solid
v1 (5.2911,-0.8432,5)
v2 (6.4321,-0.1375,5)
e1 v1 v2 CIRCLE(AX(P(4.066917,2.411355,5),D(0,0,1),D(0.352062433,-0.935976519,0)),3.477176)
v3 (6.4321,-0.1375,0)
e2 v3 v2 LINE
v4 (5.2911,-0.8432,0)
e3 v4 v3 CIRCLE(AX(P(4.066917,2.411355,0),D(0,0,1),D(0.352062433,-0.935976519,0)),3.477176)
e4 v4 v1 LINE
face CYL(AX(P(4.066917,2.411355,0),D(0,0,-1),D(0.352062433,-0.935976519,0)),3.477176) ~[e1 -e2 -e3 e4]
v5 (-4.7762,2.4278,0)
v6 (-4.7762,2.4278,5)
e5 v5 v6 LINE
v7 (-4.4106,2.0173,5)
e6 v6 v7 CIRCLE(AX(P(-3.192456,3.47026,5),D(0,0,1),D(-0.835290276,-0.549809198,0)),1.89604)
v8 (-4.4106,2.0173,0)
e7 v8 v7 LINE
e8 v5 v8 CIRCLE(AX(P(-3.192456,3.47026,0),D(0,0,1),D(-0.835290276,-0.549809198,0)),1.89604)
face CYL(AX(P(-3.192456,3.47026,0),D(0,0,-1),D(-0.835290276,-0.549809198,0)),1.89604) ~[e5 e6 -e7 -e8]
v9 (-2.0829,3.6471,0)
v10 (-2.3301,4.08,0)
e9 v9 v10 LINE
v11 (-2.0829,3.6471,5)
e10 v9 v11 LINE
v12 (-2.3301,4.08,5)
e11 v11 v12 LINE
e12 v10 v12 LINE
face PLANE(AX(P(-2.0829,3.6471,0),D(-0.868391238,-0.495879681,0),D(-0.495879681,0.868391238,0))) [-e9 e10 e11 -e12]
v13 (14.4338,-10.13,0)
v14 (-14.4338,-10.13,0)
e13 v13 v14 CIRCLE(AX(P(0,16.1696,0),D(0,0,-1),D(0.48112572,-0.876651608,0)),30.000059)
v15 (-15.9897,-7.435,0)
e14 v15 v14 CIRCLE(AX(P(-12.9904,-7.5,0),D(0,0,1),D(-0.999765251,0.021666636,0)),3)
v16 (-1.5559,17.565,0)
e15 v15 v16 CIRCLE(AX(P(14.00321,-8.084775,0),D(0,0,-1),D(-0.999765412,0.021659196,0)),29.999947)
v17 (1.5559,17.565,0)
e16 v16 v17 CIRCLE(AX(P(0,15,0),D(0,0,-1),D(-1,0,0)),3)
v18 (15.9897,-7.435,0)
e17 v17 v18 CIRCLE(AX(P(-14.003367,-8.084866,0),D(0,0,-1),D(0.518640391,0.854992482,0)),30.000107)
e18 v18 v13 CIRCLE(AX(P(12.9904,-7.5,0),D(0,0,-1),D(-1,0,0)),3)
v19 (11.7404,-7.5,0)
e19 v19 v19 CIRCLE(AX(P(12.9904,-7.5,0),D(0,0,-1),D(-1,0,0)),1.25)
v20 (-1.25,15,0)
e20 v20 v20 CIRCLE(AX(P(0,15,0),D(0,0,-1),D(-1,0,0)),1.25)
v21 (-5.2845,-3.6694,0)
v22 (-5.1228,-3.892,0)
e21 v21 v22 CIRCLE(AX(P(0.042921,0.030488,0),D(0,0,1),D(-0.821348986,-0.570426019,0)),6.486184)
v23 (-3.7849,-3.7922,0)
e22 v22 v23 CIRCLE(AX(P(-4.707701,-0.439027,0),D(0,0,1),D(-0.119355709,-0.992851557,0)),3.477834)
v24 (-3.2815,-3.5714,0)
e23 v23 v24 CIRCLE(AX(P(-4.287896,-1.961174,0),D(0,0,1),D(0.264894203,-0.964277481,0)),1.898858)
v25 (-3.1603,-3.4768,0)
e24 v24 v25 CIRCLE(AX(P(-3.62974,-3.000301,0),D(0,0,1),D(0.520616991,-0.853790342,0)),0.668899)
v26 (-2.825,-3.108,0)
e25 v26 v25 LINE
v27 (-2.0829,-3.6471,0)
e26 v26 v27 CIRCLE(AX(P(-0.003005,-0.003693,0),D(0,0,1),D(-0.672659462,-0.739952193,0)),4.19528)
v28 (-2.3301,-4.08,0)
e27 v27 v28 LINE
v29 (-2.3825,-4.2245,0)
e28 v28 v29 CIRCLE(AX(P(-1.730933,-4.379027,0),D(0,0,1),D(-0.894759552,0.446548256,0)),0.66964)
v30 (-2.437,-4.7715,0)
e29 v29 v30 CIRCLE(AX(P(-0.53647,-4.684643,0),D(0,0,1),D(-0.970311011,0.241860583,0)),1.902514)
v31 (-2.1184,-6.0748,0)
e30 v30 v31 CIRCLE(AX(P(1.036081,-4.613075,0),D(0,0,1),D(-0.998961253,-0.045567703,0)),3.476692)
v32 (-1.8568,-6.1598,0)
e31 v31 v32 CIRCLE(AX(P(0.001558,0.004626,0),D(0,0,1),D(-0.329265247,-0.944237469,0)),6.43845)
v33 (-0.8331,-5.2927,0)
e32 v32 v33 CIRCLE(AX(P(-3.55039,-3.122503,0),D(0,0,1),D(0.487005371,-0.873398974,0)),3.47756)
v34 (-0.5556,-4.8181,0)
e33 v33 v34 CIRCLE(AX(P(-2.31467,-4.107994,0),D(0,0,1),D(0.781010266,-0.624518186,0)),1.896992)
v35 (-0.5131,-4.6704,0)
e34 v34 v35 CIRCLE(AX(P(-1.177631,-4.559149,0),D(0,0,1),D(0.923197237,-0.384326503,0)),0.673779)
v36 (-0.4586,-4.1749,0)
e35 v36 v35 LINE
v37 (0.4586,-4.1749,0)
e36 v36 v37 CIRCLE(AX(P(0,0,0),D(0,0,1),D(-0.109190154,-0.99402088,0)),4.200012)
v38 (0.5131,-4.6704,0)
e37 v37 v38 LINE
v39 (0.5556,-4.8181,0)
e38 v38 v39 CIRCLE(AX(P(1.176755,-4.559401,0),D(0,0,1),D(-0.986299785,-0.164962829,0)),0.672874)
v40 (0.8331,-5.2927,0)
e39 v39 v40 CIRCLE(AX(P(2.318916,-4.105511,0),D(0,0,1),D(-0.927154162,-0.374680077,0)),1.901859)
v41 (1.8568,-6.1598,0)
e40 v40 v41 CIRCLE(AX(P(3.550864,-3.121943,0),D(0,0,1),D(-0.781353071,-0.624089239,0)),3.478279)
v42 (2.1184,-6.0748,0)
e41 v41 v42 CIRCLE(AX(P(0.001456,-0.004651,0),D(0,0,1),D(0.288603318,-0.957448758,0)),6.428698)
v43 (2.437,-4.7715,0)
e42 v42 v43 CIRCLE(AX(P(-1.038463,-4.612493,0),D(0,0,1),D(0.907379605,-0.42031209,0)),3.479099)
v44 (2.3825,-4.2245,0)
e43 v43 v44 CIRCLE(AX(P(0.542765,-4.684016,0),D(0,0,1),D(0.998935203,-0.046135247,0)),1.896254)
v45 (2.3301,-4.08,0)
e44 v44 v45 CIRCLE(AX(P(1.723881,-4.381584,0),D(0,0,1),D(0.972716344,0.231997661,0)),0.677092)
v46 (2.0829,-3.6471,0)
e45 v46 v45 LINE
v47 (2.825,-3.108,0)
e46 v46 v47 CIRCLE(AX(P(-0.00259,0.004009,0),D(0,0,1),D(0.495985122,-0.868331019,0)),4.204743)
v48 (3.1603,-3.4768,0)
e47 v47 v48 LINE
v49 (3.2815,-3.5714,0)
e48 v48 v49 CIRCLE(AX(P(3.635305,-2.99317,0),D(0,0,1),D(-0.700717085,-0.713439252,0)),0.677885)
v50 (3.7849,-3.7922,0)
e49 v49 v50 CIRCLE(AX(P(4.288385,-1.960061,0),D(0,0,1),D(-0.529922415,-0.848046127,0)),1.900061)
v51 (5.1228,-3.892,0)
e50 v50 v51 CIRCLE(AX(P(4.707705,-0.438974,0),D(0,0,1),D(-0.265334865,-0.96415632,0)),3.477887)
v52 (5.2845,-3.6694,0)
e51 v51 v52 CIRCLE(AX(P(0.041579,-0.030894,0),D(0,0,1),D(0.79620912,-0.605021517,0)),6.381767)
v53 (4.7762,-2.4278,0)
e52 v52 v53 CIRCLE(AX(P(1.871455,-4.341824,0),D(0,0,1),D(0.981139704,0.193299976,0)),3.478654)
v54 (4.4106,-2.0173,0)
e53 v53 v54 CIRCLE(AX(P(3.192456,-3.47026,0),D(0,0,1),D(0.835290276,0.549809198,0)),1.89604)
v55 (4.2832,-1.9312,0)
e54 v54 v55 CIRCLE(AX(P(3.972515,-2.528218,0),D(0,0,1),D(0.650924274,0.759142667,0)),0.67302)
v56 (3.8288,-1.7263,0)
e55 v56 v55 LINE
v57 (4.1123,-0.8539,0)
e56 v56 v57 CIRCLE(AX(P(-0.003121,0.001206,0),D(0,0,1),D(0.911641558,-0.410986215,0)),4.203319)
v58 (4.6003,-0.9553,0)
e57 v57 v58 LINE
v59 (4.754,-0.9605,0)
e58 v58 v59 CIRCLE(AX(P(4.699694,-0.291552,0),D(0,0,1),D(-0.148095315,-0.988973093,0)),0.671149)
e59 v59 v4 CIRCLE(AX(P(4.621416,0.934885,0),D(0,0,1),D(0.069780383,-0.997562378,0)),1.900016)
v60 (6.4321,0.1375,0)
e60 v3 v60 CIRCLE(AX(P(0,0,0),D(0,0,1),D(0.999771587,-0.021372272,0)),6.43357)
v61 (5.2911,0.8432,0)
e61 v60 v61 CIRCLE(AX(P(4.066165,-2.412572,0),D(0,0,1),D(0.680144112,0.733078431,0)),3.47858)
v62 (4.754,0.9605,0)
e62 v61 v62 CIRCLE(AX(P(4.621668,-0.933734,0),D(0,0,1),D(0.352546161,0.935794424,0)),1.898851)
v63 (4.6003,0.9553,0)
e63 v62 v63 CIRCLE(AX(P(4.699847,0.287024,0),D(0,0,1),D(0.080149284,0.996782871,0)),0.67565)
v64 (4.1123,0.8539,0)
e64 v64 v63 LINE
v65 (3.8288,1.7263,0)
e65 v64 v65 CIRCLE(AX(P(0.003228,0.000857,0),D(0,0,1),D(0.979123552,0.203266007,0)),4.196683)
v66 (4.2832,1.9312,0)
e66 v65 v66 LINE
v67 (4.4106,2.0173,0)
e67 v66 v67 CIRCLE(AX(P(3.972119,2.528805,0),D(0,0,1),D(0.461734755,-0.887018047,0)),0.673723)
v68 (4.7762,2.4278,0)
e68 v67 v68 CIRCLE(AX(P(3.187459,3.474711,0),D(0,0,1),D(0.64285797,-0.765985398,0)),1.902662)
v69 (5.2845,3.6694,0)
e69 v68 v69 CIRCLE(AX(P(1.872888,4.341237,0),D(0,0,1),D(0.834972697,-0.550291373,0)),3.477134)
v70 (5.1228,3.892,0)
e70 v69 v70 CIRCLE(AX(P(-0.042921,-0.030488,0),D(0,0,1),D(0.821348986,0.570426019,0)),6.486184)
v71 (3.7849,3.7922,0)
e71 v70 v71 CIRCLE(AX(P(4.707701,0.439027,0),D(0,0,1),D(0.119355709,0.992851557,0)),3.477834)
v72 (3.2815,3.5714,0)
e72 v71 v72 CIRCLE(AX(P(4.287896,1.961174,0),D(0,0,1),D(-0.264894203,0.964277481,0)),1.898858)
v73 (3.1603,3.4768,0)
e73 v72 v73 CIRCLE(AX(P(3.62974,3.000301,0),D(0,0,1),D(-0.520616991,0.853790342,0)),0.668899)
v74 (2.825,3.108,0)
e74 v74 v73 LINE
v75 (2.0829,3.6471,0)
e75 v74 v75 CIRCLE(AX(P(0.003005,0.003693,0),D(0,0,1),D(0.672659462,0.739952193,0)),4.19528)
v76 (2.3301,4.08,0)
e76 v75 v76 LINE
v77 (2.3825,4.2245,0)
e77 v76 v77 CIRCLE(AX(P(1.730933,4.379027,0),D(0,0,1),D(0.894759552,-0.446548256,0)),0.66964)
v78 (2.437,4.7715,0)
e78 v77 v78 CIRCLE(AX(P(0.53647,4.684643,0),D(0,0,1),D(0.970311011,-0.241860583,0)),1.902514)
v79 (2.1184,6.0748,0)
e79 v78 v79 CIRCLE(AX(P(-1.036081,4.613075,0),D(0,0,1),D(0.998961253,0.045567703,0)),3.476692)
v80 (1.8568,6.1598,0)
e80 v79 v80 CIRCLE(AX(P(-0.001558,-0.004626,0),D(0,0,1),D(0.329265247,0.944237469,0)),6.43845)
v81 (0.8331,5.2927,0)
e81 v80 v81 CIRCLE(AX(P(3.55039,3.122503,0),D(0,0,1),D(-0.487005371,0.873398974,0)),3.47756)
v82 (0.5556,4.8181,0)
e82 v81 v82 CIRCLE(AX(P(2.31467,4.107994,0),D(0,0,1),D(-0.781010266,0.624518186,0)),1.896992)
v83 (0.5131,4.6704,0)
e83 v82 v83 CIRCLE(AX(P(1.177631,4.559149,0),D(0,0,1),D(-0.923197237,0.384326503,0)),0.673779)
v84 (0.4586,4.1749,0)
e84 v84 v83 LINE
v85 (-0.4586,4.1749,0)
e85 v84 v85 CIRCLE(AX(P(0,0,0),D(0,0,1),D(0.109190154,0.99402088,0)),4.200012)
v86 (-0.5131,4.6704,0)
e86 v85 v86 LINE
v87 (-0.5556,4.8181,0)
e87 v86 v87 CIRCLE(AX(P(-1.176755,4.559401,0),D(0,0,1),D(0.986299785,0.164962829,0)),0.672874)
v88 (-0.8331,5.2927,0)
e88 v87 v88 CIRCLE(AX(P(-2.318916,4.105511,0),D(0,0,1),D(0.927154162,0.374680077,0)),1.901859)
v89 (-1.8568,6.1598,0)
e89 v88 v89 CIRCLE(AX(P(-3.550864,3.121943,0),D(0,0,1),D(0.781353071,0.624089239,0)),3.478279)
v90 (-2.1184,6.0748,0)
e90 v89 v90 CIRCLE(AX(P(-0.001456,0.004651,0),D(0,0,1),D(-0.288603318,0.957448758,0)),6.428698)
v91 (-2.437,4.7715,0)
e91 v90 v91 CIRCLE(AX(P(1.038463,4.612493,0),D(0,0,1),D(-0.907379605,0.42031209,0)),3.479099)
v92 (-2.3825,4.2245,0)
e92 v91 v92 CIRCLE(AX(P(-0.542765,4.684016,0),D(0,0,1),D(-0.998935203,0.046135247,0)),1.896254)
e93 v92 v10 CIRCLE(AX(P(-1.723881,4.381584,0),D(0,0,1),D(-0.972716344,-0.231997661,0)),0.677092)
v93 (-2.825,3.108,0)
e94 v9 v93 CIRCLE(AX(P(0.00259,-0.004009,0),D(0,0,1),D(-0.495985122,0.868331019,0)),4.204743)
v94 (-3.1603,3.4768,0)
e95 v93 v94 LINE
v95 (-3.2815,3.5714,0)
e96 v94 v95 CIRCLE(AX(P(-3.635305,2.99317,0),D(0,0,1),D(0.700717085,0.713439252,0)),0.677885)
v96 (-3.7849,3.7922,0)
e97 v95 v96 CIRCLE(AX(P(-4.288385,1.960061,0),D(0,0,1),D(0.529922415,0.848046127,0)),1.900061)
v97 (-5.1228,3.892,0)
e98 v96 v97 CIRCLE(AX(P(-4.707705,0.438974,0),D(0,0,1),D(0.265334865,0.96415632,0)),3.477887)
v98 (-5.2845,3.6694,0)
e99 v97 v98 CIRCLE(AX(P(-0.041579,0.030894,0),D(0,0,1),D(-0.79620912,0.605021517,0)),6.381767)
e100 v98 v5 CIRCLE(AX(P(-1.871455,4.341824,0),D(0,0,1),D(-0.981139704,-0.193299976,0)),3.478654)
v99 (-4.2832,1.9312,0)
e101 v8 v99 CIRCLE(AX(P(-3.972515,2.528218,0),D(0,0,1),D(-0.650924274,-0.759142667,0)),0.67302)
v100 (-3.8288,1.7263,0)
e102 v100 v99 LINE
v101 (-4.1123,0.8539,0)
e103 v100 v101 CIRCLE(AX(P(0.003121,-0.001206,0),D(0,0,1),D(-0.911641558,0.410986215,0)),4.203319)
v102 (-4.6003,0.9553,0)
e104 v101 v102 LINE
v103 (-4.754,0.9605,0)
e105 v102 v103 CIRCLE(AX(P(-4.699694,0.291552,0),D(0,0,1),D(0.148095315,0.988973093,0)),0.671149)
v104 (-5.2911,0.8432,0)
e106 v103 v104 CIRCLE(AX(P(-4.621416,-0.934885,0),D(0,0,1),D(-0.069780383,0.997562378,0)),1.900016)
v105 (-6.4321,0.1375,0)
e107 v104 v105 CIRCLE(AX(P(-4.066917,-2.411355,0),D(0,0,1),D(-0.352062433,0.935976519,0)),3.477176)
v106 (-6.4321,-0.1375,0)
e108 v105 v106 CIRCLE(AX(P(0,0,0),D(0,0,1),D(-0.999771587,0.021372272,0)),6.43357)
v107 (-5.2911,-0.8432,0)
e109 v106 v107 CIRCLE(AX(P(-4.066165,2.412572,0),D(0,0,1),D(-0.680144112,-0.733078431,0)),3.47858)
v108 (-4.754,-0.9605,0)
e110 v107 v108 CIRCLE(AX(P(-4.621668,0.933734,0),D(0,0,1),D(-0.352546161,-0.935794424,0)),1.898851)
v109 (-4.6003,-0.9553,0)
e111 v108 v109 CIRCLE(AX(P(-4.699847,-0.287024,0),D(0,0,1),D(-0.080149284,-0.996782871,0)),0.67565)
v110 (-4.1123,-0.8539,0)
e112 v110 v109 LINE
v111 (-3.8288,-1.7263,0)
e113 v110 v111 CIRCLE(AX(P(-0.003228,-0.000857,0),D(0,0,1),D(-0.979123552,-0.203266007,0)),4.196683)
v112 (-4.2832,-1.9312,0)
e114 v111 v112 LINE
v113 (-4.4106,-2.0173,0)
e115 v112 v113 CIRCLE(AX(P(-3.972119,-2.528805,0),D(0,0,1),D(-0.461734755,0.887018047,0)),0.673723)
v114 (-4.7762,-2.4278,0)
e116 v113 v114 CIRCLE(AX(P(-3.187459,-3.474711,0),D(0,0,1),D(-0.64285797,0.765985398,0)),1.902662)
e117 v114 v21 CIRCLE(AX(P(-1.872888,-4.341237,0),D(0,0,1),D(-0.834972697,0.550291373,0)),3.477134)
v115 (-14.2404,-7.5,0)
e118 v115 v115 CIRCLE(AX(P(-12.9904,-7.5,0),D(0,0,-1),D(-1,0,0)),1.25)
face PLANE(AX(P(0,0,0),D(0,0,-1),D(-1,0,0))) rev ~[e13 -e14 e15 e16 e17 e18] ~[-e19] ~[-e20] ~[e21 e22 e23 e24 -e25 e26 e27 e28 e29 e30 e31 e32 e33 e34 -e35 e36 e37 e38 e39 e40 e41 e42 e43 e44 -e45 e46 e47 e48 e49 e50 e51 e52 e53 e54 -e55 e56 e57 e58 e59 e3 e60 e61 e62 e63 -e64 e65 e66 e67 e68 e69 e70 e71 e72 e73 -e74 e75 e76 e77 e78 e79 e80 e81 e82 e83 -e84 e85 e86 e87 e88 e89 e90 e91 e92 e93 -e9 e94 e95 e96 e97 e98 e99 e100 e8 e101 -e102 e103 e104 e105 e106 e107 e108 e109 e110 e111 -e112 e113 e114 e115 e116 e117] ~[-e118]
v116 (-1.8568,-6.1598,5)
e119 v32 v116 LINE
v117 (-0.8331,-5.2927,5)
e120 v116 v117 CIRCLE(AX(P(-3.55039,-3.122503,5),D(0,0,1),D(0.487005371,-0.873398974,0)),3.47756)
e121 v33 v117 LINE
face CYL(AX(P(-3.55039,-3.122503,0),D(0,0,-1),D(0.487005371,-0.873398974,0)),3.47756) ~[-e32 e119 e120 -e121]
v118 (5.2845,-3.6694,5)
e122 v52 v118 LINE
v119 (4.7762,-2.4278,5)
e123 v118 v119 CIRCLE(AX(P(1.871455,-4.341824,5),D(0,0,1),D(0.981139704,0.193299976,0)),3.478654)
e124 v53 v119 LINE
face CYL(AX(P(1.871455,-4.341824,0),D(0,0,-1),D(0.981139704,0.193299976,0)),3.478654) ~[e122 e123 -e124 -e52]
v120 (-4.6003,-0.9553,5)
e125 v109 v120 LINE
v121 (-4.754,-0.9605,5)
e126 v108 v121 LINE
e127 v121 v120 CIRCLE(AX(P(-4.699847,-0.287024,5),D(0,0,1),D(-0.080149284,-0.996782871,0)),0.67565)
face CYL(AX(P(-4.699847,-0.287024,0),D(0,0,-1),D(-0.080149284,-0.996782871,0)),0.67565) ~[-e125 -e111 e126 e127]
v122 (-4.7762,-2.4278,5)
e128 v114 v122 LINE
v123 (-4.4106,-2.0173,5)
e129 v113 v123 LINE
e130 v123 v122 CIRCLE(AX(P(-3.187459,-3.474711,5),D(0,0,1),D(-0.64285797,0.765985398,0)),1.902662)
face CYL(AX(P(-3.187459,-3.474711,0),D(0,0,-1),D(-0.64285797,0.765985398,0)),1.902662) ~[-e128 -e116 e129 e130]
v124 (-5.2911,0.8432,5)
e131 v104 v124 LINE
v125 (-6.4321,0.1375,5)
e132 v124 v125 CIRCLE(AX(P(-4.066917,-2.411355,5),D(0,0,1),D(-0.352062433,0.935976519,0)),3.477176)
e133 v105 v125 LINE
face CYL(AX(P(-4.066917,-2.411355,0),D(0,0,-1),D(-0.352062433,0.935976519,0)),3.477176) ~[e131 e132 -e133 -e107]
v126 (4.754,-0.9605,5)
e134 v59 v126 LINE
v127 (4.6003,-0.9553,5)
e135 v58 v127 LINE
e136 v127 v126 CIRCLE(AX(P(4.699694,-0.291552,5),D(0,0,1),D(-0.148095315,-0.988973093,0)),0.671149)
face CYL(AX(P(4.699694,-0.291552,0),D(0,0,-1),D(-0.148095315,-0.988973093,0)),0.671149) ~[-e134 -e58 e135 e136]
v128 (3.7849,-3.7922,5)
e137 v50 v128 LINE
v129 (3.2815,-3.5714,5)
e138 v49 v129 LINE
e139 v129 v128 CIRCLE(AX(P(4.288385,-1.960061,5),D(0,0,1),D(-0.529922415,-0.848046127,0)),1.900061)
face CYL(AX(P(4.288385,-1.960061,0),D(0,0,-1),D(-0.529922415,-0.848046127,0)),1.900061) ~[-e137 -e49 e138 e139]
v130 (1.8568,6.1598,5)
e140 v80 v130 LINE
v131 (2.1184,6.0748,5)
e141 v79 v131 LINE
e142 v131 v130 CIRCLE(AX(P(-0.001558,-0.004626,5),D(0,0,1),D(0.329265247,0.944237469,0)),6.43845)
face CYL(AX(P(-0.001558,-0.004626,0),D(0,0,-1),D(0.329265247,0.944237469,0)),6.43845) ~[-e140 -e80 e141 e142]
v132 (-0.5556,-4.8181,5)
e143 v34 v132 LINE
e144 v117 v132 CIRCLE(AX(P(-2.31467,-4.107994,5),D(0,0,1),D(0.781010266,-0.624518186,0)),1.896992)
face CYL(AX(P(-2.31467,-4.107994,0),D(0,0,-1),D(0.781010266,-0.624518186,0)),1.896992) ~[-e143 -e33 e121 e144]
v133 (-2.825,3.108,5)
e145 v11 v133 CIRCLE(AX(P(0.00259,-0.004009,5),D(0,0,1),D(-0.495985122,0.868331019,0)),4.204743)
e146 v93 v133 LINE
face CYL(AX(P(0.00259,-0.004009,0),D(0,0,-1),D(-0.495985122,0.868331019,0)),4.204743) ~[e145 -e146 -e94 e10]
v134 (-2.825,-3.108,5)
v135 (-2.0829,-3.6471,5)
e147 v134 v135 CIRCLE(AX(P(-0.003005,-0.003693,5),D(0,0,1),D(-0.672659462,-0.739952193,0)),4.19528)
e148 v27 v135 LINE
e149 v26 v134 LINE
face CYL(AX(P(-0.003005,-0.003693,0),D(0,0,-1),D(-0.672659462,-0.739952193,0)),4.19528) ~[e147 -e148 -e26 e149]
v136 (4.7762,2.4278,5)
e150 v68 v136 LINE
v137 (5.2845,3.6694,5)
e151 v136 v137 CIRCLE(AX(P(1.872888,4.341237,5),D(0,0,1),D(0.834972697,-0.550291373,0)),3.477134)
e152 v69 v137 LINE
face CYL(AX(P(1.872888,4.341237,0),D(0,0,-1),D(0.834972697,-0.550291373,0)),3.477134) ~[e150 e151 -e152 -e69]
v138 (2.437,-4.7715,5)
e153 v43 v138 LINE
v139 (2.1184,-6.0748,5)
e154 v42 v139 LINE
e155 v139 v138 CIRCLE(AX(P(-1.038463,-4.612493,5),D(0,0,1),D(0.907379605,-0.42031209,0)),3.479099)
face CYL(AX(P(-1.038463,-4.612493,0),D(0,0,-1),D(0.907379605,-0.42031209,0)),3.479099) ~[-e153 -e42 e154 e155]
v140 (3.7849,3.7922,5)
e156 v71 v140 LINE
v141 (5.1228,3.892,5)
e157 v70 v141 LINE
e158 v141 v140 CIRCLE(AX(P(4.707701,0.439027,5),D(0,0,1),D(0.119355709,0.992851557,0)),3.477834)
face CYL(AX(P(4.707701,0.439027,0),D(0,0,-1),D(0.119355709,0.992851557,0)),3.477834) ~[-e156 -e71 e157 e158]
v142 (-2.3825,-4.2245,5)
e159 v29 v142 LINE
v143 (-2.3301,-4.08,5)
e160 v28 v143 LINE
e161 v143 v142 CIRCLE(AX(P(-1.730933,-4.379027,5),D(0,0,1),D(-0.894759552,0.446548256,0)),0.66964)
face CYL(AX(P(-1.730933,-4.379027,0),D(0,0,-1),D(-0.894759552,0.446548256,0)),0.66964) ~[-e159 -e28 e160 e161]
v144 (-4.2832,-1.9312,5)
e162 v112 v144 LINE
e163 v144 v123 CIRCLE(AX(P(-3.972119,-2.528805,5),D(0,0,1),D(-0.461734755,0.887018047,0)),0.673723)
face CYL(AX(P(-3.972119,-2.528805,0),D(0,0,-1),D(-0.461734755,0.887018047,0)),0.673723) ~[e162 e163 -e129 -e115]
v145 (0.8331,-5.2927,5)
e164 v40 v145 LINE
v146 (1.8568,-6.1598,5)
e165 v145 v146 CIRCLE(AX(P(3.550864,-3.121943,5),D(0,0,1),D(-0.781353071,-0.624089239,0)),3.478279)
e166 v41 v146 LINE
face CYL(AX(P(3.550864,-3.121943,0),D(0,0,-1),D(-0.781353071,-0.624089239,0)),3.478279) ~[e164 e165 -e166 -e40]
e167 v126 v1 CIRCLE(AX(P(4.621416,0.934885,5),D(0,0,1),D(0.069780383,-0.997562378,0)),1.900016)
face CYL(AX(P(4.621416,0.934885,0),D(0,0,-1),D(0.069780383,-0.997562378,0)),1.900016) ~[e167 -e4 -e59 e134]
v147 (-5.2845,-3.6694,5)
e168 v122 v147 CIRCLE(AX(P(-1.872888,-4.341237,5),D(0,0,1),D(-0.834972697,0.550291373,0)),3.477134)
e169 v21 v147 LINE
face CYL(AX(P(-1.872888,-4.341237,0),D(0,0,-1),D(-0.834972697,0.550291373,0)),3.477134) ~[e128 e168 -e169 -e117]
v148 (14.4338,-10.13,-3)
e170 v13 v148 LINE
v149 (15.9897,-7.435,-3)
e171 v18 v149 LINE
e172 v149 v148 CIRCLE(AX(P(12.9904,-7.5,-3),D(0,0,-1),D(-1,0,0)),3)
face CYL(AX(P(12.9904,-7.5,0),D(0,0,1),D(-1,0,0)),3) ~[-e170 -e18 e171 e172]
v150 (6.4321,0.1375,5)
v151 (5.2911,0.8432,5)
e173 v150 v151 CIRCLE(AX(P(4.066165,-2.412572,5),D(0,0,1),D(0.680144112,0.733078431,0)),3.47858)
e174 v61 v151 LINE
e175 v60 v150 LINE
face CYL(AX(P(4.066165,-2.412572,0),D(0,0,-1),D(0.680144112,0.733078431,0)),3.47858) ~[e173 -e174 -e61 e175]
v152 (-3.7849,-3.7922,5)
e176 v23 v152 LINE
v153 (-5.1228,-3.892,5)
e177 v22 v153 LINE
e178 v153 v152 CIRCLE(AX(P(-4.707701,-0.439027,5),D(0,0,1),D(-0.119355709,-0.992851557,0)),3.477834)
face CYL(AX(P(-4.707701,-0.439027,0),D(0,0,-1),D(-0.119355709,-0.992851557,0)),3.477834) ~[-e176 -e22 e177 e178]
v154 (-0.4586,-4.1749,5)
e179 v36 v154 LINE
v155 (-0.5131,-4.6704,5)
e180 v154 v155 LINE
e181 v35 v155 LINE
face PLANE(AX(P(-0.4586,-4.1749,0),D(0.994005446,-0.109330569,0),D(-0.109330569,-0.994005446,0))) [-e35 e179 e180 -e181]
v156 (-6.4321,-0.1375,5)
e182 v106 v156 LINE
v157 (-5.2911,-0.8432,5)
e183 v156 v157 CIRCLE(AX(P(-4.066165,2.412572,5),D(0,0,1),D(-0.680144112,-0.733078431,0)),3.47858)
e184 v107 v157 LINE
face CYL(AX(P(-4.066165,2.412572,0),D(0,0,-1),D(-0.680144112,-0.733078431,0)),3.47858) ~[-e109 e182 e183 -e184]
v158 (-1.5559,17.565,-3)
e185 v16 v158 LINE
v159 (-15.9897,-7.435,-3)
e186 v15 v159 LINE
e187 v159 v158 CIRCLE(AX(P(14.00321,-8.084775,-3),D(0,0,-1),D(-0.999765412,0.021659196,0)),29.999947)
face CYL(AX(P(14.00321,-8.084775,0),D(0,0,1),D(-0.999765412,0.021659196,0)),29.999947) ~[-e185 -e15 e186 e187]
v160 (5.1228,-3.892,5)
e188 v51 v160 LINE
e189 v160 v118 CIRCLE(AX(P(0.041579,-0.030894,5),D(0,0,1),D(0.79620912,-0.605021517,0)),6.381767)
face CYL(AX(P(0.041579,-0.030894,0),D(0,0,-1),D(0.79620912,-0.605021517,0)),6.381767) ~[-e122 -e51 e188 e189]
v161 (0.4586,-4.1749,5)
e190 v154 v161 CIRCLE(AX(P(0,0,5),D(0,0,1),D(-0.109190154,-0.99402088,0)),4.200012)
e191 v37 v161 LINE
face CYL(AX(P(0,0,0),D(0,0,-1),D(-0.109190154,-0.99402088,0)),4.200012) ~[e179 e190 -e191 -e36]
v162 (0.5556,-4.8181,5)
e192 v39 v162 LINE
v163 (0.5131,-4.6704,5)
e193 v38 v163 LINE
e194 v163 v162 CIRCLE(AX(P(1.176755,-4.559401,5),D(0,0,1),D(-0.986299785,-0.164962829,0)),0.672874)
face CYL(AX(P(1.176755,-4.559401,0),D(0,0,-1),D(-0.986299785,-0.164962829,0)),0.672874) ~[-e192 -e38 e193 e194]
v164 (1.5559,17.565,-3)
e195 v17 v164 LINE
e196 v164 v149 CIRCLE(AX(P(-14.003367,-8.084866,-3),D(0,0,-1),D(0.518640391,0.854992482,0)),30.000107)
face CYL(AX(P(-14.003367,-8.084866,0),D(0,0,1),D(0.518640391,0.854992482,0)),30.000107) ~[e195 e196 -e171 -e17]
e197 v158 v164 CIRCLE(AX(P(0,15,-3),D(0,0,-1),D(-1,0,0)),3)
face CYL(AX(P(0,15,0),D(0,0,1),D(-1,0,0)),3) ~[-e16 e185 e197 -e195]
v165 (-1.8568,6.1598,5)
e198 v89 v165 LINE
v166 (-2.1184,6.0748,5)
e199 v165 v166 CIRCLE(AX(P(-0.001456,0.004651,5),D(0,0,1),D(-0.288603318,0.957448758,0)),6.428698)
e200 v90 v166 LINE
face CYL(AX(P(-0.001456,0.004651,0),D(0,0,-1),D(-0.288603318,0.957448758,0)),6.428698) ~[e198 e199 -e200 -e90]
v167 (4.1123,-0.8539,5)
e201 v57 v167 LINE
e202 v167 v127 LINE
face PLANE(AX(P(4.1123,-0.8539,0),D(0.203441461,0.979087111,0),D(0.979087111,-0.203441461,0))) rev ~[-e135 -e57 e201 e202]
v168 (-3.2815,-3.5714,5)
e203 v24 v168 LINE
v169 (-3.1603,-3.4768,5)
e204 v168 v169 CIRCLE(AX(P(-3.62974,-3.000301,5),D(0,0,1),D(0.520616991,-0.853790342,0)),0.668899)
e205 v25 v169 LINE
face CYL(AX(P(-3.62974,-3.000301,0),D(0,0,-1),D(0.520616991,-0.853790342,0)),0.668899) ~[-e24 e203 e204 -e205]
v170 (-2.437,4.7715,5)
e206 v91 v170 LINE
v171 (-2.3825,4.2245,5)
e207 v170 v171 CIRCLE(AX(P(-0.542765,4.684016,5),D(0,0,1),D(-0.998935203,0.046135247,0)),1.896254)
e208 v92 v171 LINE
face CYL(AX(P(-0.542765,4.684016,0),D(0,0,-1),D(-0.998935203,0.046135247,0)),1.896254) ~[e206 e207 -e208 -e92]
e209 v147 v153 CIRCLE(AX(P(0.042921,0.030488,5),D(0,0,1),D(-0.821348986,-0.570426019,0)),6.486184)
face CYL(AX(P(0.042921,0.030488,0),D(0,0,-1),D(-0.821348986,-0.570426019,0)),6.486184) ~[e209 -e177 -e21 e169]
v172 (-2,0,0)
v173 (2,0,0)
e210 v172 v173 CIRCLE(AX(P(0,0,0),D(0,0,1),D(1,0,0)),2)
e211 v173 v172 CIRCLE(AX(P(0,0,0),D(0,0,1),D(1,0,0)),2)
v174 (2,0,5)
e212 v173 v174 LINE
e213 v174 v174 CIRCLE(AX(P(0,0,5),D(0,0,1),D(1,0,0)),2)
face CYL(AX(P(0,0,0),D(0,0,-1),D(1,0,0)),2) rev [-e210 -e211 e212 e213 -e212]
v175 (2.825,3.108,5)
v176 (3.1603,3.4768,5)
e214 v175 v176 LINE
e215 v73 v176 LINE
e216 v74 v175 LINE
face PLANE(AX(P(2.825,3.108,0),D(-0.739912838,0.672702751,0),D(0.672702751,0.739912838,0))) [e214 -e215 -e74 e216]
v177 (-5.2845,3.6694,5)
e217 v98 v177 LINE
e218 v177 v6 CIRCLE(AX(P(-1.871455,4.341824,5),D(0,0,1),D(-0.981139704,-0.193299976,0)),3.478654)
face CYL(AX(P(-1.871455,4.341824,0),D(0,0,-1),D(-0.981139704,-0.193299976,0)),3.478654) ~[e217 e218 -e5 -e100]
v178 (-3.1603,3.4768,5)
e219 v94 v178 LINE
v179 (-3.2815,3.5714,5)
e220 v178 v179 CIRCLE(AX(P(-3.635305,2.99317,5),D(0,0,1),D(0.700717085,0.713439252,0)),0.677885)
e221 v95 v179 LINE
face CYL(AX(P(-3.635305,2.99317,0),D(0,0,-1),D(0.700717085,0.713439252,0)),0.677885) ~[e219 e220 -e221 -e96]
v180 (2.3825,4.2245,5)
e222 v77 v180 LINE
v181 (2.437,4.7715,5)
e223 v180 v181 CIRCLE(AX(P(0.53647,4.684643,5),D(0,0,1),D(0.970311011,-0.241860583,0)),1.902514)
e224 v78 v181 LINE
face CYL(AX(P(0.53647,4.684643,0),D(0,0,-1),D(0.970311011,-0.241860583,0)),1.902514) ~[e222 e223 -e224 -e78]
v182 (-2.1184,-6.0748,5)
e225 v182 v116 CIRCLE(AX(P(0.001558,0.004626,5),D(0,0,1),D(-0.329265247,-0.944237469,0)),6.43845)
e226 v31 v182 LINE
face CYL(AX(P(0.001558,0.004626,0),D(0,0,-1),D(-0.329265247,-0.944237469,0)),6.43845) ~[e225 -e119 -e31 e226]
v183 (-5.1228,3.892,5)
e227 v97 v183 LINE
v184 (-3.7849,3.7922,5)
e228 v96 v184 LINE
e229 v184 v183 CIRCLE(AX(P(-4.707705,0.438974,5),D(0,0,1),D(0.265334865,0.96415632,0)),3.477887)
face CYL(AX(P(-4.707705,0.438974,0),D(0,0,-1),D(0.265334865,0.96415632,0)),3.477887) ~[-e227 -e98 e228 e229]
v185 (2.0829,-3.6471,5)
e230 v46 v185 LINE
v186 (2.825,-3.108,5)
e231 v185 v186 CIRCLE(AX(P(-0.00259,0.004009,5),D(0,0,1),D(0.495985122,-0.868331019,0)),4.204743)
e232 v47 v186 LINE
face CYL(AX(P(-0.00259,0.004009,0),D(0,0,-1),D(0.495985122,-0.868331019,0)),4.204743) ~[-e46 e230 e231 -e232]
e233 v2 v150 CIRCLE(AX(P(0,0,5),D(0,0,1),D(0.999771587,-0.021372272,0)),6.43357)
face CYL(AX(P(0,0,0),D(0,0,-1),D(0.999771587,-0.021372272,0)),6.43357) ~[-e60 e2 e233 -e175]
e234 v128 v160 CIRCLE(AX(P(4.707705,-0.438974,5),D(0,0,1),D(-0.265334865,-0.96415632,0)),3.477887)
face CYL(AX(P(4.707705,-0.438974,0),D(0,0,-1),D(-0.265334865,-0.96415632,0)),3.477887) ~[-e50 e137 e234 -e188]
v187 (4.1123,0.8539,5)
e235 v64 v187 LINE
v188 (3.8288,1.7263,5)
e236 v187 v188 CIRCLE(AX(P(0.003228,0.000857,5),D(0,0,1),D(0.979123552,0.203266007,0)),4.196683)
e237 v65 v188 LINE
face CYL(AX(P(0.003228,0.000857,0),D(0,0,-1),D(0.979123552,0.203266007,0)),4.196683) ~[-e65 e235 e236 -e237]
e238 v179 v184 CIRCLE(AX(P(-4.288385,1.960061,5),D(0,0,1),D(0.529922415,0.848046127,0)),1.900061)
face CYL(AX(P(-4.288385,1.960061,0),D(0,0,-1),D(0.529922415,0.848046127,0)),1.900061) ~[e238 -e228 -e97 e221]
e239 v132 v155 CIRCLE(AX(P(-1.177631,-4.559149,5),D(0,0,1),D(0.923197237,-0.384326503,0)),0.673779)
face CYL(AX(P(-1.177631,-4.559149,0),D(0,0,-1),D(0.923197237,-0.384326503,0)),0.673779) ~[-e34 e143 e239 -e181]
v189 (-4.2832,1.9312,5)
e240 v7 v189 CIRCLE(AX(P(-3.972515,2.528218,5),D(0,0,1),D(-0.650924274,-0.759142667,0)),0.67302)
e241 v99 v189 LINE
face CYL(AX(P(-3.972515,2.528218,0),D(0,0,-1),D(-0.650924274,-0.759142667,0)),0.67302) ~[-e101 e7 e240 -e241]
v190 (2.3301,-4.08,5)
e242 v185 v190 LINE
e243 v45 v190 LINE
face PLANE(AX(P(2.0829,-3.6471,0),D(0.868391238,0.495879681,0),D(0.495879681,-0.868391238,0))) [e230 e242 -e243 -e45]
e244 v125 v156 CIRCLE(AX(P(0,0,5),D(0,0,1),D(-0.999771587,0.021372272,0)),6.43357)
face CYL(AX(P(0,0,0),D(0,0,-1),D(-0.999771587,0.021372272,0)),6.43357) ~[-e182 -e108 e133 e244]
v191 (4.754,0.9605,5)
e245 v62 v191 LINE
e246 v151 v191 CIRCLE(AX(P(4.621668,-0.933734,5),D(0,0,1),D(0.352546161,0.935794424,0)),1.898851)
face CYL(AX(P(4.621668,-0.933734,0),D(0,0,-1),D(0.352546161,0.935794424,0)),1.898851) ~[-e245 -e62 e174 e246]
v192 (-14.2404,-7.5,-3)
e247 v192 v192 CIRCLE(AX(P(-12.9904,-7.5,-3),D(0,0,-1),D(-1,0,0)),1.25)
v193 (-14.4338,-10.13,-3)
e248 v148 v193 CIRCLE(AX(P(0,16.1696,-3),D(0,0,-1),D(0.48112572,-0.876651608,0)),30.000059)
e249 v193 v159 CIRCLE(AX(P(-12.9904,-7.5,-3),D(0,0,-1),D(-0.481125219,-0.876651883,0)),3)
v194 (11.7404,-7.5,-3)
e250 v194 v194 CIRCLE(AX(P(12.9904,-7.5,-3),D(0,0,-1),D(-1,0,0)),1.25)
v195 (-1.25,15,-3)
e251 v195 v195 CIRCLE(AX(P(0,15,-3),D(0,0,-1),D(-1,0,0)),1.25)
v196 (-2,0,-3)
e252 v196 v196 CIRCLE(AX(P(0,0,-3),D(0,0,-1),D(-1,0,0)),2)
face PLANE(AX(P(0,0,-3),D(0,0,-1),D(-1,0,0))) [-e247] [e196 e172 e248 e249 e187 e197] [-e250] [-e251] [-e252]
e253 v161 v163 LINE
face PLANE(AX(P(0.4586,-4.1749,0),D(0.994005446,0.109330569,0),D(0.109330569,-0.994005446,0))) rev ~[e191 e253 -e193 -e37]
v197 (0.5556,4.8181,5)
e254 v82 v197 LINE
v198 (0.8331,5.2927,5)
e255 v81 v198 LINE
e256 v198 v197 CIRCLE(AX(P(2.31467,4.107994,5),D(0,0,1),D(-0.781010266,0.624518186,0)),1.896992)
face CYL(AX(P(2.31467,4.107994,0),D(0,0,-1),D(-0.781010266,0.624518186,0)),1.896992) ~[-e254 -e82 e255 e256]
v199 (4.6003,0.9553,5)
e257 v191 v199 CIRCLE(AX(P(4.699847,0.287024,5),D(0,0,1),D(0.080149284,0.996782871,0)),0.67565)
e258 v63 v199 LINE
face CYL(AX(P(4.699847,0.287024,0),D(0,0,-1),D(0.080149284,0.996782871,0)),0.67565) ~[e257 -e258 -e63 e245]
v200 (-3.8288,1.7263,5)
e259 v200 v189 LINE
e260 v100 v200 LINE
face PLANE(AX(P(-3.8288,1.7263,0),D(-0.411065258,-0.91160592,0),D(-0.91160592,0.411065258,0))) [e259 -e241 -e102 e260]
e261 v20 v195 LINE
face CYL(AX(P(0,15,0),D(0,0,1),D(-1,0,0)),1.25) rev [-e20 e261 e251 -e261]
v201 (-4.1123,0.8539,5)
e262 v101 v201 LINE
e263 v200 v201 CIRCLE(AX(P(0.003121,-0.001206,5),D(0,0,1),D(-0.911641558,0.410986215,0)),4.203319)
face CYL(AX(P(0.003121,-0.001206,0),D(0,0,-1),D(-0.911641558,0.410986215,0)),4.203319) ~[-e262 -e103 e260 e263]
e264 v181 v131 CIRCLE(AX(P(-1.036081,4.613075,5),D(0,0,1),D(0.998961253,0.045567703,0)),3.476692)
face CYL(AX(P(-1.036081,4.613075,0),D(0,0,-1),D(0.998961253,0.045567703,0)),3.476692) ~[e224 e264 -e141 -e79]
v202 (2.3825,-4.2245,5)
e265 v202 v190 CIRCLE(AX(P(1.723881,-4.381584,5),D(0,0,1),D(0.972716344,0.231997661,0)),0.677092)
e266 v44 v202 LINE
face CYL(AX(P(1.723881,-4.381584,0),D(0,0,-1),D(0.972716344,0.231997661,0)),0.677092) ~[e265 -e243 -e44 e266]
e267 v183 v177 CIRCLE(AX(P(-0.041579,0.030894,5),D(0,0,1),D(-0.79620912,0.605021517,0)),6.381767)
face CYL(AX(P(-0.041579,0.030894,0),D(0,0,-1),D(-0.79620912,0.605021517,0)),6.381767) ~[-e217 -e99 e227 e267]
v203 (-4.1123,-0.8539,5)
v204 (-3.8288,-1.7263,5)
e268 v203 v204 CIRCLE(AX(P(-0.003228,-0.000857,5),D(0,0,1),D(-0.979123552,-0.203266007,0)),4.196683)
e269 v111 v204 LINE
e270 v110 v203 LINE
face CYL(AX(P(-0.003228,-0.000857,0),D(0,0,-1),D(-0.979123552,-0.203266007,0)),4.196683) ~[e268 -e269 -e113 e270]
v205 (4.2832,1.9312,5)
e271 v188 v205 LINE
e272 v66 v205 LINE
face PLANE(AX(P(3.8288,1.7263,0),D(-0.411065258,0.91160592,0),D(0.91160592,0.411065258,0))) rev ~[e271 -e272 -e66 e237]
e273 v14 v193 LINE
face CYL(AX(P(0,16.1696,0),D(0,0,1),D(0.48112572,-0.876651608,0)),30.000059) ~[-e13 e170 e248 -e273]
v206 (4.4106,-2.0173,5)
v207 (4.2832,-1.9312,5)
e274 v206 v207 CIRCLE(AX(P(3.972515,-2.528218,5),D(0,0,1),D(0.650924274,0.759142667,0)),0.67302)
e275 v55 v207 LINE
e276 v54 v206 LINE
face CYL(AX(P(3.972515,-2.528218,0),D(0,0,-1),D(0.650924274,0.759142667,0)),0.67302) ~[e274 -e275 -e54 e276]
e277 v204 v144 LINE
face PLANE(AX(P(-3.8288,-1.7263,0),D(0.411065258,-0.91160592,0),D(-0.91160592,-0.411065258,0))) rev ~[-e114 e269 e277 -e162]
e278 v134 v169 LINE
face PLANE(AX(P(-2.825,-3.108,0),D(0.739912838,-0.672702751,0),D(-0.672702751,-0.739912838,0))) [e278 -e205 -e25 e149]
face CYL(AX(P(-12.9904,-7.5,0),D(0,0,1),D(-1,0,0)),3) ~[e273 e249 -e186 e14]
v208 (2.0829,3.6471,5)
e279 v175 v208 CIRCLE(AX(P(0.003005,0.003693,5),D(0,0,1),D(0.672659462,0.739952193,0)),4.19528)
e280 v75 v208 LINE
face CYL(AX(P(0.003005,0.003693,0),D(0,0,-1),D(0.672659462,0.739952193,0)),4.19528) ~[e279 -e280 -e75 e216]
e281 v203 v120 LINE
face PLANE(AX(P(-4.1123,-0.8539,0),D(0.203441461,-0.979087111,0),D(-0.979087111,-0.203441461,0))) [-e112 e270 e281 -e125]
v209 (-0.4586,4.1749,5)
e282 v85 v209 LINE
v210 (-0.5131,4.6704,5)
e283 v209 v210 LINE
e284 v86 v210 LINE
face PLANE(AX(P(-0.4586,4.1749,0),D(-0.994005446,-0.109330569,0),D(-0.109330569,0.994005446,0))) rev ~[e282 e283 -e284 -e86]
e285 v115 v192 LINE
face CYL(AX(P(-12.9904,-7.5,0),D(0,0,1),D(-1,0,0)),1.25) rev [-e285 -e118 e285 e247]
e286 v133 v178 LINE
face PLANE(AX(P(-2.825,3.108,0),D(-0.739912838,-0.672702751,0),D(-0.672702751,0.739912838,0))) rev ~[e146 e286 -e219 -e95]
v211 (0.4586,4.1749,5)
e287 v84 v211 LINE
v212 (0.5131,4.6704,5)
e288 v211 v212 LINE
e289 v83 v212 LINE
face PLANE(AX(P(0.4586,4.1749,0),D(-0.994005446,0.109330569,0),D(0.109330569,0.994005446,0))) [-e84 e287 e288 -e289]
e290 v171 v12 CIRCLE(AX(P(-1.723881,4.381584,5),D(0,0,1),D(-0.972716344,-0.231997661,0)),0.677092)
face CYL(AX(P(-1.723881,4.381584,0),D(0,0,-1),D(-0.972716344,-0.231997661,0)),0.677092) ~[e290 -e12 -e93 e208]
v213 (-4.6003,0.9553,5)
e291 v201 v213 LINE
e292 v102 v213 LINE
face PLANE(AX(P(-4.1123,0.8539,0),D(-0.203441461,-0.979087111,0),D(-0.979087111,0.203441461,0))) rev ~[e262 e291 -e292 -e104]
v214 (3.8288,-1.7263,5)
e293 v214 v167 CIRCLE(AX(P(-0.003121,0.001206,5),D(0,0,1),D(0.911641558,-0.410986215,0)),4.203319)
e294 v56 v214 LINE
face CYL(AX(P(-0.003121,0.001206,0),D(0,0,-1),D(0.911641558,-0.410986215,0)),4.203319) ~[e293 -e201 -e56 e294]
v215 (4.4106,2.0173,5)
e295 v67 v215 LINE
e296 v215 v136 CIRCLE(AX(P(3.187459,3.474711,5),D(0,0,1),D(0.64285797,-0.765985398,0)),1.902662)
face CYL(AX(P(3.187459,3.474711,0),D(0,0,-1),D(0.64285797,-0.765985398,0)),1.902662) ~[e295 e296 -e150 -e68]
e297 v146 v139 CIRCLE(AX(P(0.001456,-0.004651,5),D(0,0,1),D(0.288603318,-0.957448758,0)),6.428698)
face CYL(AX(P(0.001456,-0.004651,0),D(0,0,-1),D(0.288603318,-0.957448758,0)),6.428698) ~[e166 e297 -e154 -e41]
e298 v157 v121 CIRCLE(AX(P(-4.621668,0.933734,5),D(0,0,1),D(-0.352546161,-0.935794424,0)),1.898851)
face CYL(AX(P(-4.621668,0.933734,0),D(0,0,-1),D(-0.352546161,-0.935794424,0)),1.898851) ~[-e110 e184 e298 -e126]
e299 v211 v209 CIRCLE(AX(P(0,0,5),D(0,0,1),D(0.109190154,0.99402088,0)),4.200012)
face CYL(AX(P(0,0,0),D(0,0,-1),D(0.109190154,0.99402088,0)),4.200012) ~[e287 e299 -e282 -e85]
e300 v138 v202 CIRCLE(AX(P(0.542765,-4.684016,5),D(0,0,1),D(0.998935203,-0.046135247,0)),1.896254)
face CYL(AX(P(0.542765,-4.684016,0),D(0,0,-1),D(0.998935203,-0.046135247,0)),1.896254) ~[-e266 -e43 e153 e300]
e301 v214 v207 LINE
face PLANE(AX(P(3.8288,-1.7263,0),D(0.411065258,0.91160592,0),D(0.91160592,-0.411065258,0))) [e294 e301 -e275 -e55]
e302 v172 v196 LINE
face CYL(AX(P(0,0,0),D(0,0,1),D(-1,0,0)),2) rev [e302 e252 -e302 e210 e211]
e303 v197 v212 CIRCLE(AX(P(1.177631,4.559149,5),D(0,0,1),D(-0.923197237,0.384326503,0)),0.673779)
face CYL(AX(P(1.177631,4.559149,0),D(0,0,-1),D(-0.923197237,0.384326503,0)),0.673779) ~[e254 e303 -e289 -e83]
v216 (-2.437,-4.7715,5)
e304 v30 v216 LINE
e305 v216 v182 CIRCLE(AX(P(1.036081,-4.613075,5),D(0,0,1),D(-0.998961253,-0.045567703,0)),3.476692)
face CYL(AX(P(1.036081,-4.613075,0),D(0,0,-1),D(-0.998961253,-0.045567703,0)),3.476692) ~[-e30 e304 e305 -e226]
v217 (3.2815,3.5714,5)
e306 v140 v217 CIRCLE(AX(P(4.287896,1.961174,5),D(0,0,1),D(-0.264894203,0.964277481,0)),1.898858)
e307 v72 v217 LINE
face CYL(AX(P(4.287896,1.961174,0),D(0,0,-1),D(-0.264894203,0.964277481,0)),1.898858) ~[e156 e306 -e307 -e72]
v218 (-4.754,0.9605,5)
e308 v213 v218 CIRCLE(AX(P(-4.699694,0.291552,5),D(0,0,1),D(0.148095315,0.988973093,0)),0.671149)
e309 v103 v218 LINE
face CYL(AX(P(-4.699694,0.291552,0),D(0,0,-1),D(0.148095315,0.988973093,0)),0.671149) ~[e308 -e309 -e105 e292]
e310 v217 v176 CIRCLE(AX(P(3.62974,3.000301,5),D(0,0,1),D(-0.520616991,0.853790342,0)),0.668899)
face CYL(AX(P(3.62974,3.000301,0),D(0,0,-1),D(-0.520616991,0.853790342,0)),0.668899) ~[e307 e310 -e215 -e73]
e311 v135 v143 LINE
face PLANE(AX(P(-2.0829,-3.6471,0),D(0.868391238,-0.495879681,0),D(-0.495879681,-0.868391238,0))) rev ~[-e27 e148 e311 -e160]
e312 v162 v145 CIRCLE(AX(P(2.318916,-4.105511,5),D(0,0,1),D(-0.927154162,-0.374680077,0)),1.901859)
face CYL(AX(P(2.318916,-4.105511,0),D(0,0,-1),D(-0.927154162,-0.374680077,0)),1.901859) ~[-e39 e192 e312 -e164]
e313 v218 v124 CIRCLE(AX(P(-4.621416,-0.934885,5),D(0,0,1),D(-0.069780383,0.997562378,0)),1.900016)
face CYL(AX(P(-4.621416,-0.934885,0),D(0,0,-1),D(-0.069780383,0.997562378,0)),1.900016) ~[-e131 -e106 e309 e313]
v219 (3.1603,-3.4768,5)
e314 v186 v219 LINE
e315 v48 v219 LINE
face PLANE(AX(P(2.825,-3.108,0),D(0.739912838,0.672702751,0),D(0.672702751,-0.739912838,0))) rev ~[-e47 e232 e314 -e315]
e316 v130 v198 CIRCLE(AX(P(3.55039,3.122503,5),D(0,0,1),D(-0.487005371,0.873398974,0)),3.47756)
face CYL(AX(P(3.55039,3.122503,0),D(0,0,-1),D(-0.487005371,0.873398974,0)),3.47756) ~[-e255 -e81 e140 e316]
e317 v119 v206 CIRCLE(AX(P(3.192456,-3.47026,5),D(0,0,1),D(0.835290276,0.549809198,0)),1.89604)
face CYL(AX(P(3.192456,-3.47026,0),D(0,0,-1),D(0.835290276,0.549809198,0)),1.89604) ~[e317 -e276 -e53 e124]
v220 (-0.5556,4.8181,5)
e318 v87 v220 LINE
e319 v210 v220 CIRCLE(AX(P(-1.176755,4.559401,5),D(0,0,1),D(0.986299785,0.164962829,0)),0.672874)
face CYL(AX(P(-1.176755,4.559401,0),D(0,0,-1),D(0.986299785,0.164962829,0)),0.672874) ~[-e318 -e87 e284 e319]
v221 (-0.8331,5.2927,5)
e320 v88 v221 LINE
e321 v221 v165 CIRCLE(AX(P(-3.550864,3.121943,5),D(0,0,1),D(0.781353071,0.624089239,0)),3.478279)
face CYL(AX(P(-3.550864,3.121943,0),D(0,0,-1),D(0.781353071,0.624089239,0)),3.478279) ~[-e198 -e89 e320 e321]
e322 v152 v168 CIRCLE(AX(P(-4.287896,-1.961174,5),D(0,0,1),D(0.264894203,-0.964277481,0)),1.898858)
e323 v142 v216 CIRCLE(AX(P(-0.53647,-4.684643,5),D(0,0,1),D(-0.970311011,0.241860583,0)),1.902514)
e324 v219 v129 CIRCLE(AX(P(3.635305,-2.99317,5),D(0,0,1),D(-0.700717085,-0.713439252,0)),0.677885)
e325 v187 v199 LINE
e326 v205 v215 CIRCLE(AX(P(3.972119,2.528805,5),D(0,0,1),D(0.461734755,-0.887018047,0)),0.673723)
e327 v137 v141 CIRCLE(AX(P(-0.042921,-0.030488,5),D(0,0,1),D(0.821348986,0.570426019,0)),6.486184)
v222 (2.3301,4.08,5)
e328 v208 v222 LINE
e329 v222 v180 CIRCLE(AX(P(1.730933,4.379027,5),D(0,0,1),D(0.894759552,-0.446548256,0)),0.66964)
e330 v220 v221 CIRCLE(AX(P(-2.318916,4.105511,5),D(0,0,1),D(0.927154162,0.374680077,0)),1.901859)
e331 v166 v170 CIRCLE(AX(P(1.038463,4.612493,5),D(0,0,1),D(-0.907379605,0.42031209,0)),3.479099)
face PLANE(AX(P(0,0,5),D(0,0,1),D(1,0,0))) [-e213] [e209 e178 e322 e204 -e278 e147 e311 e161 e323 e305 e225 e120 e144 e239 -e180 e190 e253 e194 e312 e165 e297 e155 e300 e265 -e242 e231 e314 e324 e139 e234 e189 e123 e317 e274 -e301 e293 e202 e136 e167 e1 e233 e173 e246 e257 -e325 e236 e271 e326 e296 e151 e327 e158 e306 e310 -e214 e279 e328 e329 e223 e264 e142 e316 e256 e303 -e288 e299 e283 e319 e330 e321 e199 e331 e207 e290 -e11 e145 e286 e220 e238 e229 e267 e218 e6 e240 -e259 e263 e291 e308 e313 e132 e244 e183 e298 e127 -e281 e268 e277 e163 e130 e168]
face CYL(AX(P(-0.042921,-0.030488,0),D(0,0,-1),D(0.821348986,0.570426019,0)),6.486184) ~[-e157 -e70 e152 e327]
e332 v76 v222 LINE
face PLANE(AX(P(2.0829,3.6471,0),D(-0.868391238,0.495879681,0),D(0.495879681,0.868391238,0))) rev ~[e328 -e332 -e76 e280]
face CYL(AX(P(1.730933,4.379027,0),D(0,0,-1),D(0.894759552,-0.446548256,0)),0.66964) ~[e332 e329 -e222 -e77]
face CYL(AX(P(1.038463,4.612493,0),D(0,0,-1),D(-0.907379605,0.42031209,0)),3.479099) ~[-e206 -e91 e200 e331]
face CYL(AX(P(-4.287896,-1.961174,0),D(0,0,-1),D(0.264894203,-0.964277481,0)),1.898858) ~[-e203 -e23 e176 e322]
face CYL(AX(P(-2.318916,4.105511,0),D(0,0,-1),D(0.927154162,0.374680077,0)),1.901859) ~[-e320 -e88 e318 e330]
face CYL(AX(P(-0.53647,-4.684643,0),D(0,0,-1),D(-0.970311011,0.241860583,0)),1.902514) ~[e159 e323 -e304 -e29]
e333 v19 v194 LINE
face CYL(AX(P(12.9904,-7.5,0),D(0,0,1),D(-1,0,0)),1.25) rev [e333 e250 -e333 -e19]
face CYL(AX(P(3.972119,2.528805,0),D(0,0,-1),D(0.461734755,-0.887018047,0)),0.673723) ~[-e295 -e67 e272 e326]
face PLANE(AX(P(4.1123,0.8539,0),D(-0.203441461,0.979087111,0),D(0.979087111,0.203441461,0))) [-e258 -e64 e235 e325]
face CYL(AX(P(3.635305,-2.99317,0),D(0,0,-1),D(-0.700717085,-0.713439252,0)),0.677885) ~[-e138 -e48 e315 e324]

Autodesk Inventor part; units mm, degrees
ref_plane "YZ Plane" through (0, 0, 0) normal (1, 0, 0) x (0, 1, 0)
ref_plane "XZ Plane" through (0, 0, 0) normal (0, 1, 0) x (-1, 0, 0)
ref_plane "XY Plane" through (0, 0, 0) normal (0, 0, 1) x (1, 0, 0)
sketch "Sketch1" plane through (0, 0, 0) normal (0, 0, 1) x (1, 0, 0)
  circle A0 centre (0, 0) radius 2
  arc A1 (0.5556, 4.8181) -> (0.5131, 4.6704) centre (1.1772, 4.5593) ccw
  arc A2 (0.8331, 5.2927) -> (0.5556, 4.8181) centre (2.3167, 4.1066) ccw
  arc A3 (1.8568, 6.1598) -> (0.8331, 5.2927) centre (3.5506, 3.1222) ccw
  arc A4 (-2.3825, 4.2245) -> (-2.3301, 4.08) centre (-1.7275, 4.3805) ccw
  arc A5 (-2.437, 4.7715) -> (-2.3825, 4.2245) centre (-0.5396, 4.6841) ccw
  arc A6 (-2.1184, 6.0748) -> (-2.437, 4.7715) centre (1.0373, 4.6129) ccw
  arc A7 (-4.4106, 2.0173) -> (-4.2832, 1.9312) centre (-3.9723, 2.5285) ccw
  arc A8 (-4.7762, 2.4278) -> (-4.4106, 2.0173) centre (-3.1898, 3.4723) ccw
  arc A9 (-5.2845, 3.6694) -> (-4.7762, 2.4278) centre (-1.8722, 4.3416) ccw
  arc A10 (-4.754, -0.9605) -> (-4.6003, -0.9553) centre (-4.6999, -0.2893) ccw
  arc A11 (-5.2911, -0.8432) -> (-4.754, -0.9605) centre (-4.6215, 0.9343) ccw
  arc A12 (-6.4321, -0.1375) -> (-5.2911, -0.8432) centre (-4.0666, 2.412) ccw
  arc A13 (-3.2815, -3.5714) -> (-3.1603, -3.4768) centre (-3.6323, -2.9966) ccw
  arc A14 (-3.7849, -3.7922) -> (-3.2815, -3.5714) centre (-4.2881, -1.9606) ccw
  arc A15 (-5.1228, -3.892) -> (-3.7849, -3.7922) centre (-4.7077, -0.439) ccw
  arc A16 (-0.5556, -4.8181) -> (-0.5131, -4.6704) centre (-1.1772, -4.5593) ccw
  arc A17 (-0.8331, -5.2927) -> (-0.5556, -4.8181) centre (-2.3167, -4.1066) ccw
  arc A18 (-1.8568, -6.1598) -> (-0.8331, -5.2927) centre (-3.5506, -3.1222) ccw
  arc A19 (2.3825, -4.2245) -> (2.3301, -4.08) centre (1.7275, -4.3805) ccw
  arc A20 (2.437, -4.7715) -> (2.3825, -4.2245) centre (0.5396, -4.6841) ccw
  arc A21 (2.1184, -6.0748) -> (2.437, -4.7715) centre (-1.0373, -4.6129) ccw
  arc A22 (4.4106, -2.0173) -> (4.2832, -1.9312) centre (3.9723, -2.5285) ccw
  arc A23 (4.7762, -2.4278) -> (4.4106, -2.0173) centre (3.1898, -3.4723) ccw
  arc A24 (5.2845, -3.6694) -> (4.7762, -2.4278) centre (1.8722, -4.3416) ccw
  arc A25 (4.754, 0.9605) -> (4.6003, 0.9553) centre (4.6999, 0.2893) ccw
  arc A26 (5.2911, 0.8432) -> (4.754, 0.9605) centre (4.6215, -0.9343) ccw
  arc A27 (6.4321, 0.1375) -> (5.2911, 0.8432) centre (4.0666, -2.412) ccw
  arc A28 (3.2815, 3.5714) -> (3.1603, 3.4768) centre (3.6323, 2.9966) ccw
  arc A29 (3.7849, 3.7922) -> (3.2815, 3.5714) centre (4.2881, 1.9606) ccw
  arc A30 (5.1228, 3.892) -> (3.7849, 3.7922) centre (4.7077, 0.439) ccw
  arc A31 (-0.5131, 4.6704) -> (-0.5556, 4.8181) centre (-1.1772, 4.5593) ccw
  arc A32 (-0.5556, 4.8181) -> (-0.8331, 5.2927) centre (-2.3167, 4.1066) ccw
  arc A33 (-0.8331, 5.2927) -> (-1.8568, 6.1598) centre (-3.5506, 3.1222) ccw
  arc A34 (-3.1603, 3.4768) -> (-3.2815, 3.5714) centre (-3.6323, 2.9966) ccw
  arc A35 (-3.2815, 3.5714) -> (-3.7849, 3.7922) centre (-4.2881, 1.9606) ccw
  arc A36 (-3.7849, 3.7922) -> (-5.1228, 3.892) centre (-4.7077, 0.439) ccw
  arc A37 (-4.6003, 0.9553) -> (-4.754, 0.9605) centre (-4.6999, 0.2893) ccw
  arc A38 (-4.754, 0.9605) -> (-5.2911, 0.8432) centre (-4.6215, -0.9343) ccw
  arc A39 (-5.2911, 0.8432) -> (-6.4321, 0.1375) centre (-4.0666, -2.412) ccw
  arc A40 (-4.2832, -1.9312) -> (-4.4106, -2.0173) centre (-3.9723, -2.5285) ccw
  arc A41 (-4.4106, -2.0173) -> (-4.7762, -2.4278) centre (-3.1898, -3.4723) ccw
  arc A42 (-4.7762, -2.4278) -> (-5.2845, -3.6694) centre (-1.8722, -4.3416) ccw
  arc A43 (-2.3301, -4.08) -> (-2.3825, -4.2245) centre (-1.7275, -4.3805) ccw
  arc A44 (-2.3825, -4.2245) -> (-2.437, -4.7715) centre (-0.5396, -4.6841) ccw
  arc A45 (-2.437, -4.7715) -> (-2.1184, -6.0748) centre (1.0373, -4.6129) ccw
  arc A46 (0.5131, -4.6704) -> (0.5556, -4.8181) centre (1.1772, -4.5593) ccw
  arc A47 (0.5556, -4.8181) -> (0.8331, -5.2927) centre (2.3167, -4.1066) ccw
  arc A48 (0.8331, -5.2927) -> (1.8568, -6.1598) centre (3.5506, -3.1222) ccw
  arc A49 (3.1603, -3.4768) -> (3.2815, -3.5714) centre (3.6323, -2.9966) ccw
  arc A50 (3.2815, -3.5714) -> (3.7849, -3.7922) centre (4.2881, -1.9606) ccw
  arc A51 (3.7849, -3.7922) -> (5.1228, -3.892) centre (4.7077, -0.439) ccw
  arc A52 (4.6003, -0.9553) -> (4.754, -0.9605) centre (4.6999, -0.2893) ccw
  arc A53 (4.754, -0.9605) -> (5.2911, -0.8432) centre (4.6215, 0.9343) ccw
  arc A54 (5.2911, -0.8432) -> (6.4321, -0.1375) centre (4.0666, 2.412) ccw
  arc A55 (4.2832, 1.9312) -> (4.4106, 2.0173) centre (3.9723, 2.5285) ccw
  arc A56 (4.4106, 2.0173) -> (4.7762, 2.4278) centre (3.1898, 3.4723) ccw
  arc A57 (4.7762, 2.4278) -> (5.2845, 3.6694) centre (1.8722, 4.3416) ccw
  arc A58 (2.3301, 4.08) -> (2.3825, 4.2245) centre (1.7275, 4.3805) ccw
  arc A59 (2.3825, 4.2245) -> (2.437, 4.7715) centre (0.5396, 4.6841) ccw
  arc A60 (2.437, 4.7715) -> (2.1184, 6.0748) centre (-1.0373, 4.6129) ccw
  arc A61 (0.4586, 4.1749) -> (-0.4586, 4.1749) centre (0, 0) ccw
  arc A62 (-2.0829, 3.6471) -> (-2.825, 3.108) centre (0, 0) ccw
  arc A63 (-3.8288, 1.7263) -> (-4.1123, 0.8539) centre (0, 0) ccw
  arc A64 (-4.1123, -0.8539) -> (-3.8288, -1.7263) centre (0, 0) ccw
  arc A65 (-2.825, -3.108) -> (-2.0829, -3.6471) centre (0, 0) ccw
  arc A66 (-0.4586, -4.1749) -> (0.4586, -4.1749) centre (0, 0) ccw
  arc A67 (2.0829, -3.6471) -> (2.825, -3.108) centre (0, 0) ccw
  arc A68 (3.8288, -1.7263) -> (4.1123, -0.8539) centre (0, 0) ccw
  arc A69 (4.1123, 0.8539) -> (3.8288, 1.7263) centre (0, 0) ccw
  arc A70 (2.825, 3.108) -> (2.0829, 3.6471) centre (0, 0) ccw
  arc A71 (-1.8568, 6.1598) -> (-2.1184, 6.0748) centre (0, 0) ccw
  arc A72 (-5.1228, 3.892) -> (-5.2845, 3.6694) centre (0, 0) ccw
  arc A73 (-6.4321, 0.1375) -> (-6.4321, -0.1375) centre (0, 0) ccw
  arc A74 (-5.2845, -3.6694) -> (-5.1228, -3.892) centre (0, 0) ccw
  arc A75 (-2.1184, -6.0748) -> (-1.8568, -6.1598) centre (0, 0) ccw
  arc A76 (1.8568, -6.1598) -> (2.1184, -6.0748) centre (0, 0) ccw
  arc A77 (5.1228, -3.892) -> (5.2845, -3.6694) centre (0, 0) ccw
  arc A78 (6.4321, -0.1375) -> (6.4321, 0.1375) centre (0, 0) ccw
  arc A79 (5.2845, 3.6694) -> (5.1228, 3.892) centre (0, 0) ccw
  arc A80 (2.1184, 6.0748) -> (1.8568, 6.1598) centre (0, 0) ccw
  line L0 (0.4586, 4.1749) -> (0.5131, 4.6704)
  line L1 (-2.0829, 3.6471) -> (-2.3301, 4.08)
  line L2 (-3.8288, 1.7263) -> (-4.2832, 1.9312)
  line L3 (-4.1123, -0.8539) -> (-4.6003, -0.9553)
  line L4 (-2.825, -3.108) -> (-3.1603, -3.4768)
  line L5 (-0.4586, -4.1749) -> (-0.5131, -4.6704)
  line L6 (2.0829, -3.6471) -> (2.3301, -4.08)
  line L7 (3.8288, -1.7263) -> (4.2832, -1.9312)
  line L8 (4.1123, 0.8539) -> (4.6003, 0.9553)
  line L9 (2.825, 3.108) -> (3.1603, 3.4768)
  line L10 (-0.4586, 4.1749) -> (-0.5131, 4.6704)
  line L11 (-2.825, 3.108) -> (-3.1603, 3.4768)
  line L12 (-4.1123, 0.8539) -> (-4.6003, 0.9553)
  line L13 (-3.8288, -1.7263) -> (-4.2832, -1.9312)
  line L14 (-2.0829, -3.6471) -> (-2.3301, -4.08)
  line L15 (0.4586, -4.1749) -> (0.5131, -4.6704)
  line L16 (2.825, -3.108) -> (3.1603, -3.4768)
  line L17 (4.1123, -0.8539) -> (4.6003, -0.9553)
  line L18 (3.8288, 1.7263) -> (4.2832, 1.9312)
  line L19 (2.0829, 3.6471) -> (2.3301, 4.08)
  dimension "d34" = 4
extrude "Extrusion1" add sketch "Sketch1" along normal blind 5
sketch "Sketch3" plane through (0, 0, 0) normal (0, 0, -1) x (-1, 0, 0)
  circle A0 centre (-12.9904, -7.5) radius 1.25
  circle A1 centre (12.9904, -7.5) radius 1.25
  circle A2 centre (0, 15) radius 1.25
  circle A3 centre (0, 0) radius 20.05 construction
  circle A4 centre (0, 0) radius 18.25 construction
  circle A5 centre (-12.9904, -7.5) radius 3.25 construction
  circle A6 centre (-12.9904, -7.5) radius 3
  circle A7 centre (12.9904, -7.5) radius 3
  circle A8 centre (0, 15) radius 3
  arc A9 (-1.5559, 17.565) -> (-15.9897, -7.435) centre (14.0033, -8.0848) ccw
  arc A10 (-14.4338, -10.13) -> (14.4338, -10.13) centre (0, 16.1696) ccw
  arc A11 (15.9897, -7.435) -> (1.5559, 17.565) centre (-14.0033, -8.0848) ccw
  circle A12 centre (0, 0) radius 2
  point P0 (15.9897, -7.435)
  point P1 (1.5559, 17.565)
  point P2 (-14.4338, -10.13)
  point P3 (14.4338, -10.13)
  dimension "d14" = 6
  dimension "d18" = 6
  dimension "d3" = 2.5
  dimension "d6" = 360
  dimension "d9" = 40.1
  dimension "d10" = 36.5
  dimension "d11" = 6.5
  dimension "d17" = 6
  dimension "d19" = 30
  dimension "d22" = 360
  dimension "d33" = 4
extrude "Extrusion2" add sketch "Sketch3" along normal blind 3
thread "Thread1" size "M3x0.5" class "6H" standard "ANSI Metric M Profile" full length
thread "Thread2" size "M3x0.5" class "6H" standard "ANSI Metric M Profile" full length
thread "Thread3" size "M3x0.5" class "6H" standard "ANSI Metric M Profile" full length
properties part number "多段ギアm2z10t8"
